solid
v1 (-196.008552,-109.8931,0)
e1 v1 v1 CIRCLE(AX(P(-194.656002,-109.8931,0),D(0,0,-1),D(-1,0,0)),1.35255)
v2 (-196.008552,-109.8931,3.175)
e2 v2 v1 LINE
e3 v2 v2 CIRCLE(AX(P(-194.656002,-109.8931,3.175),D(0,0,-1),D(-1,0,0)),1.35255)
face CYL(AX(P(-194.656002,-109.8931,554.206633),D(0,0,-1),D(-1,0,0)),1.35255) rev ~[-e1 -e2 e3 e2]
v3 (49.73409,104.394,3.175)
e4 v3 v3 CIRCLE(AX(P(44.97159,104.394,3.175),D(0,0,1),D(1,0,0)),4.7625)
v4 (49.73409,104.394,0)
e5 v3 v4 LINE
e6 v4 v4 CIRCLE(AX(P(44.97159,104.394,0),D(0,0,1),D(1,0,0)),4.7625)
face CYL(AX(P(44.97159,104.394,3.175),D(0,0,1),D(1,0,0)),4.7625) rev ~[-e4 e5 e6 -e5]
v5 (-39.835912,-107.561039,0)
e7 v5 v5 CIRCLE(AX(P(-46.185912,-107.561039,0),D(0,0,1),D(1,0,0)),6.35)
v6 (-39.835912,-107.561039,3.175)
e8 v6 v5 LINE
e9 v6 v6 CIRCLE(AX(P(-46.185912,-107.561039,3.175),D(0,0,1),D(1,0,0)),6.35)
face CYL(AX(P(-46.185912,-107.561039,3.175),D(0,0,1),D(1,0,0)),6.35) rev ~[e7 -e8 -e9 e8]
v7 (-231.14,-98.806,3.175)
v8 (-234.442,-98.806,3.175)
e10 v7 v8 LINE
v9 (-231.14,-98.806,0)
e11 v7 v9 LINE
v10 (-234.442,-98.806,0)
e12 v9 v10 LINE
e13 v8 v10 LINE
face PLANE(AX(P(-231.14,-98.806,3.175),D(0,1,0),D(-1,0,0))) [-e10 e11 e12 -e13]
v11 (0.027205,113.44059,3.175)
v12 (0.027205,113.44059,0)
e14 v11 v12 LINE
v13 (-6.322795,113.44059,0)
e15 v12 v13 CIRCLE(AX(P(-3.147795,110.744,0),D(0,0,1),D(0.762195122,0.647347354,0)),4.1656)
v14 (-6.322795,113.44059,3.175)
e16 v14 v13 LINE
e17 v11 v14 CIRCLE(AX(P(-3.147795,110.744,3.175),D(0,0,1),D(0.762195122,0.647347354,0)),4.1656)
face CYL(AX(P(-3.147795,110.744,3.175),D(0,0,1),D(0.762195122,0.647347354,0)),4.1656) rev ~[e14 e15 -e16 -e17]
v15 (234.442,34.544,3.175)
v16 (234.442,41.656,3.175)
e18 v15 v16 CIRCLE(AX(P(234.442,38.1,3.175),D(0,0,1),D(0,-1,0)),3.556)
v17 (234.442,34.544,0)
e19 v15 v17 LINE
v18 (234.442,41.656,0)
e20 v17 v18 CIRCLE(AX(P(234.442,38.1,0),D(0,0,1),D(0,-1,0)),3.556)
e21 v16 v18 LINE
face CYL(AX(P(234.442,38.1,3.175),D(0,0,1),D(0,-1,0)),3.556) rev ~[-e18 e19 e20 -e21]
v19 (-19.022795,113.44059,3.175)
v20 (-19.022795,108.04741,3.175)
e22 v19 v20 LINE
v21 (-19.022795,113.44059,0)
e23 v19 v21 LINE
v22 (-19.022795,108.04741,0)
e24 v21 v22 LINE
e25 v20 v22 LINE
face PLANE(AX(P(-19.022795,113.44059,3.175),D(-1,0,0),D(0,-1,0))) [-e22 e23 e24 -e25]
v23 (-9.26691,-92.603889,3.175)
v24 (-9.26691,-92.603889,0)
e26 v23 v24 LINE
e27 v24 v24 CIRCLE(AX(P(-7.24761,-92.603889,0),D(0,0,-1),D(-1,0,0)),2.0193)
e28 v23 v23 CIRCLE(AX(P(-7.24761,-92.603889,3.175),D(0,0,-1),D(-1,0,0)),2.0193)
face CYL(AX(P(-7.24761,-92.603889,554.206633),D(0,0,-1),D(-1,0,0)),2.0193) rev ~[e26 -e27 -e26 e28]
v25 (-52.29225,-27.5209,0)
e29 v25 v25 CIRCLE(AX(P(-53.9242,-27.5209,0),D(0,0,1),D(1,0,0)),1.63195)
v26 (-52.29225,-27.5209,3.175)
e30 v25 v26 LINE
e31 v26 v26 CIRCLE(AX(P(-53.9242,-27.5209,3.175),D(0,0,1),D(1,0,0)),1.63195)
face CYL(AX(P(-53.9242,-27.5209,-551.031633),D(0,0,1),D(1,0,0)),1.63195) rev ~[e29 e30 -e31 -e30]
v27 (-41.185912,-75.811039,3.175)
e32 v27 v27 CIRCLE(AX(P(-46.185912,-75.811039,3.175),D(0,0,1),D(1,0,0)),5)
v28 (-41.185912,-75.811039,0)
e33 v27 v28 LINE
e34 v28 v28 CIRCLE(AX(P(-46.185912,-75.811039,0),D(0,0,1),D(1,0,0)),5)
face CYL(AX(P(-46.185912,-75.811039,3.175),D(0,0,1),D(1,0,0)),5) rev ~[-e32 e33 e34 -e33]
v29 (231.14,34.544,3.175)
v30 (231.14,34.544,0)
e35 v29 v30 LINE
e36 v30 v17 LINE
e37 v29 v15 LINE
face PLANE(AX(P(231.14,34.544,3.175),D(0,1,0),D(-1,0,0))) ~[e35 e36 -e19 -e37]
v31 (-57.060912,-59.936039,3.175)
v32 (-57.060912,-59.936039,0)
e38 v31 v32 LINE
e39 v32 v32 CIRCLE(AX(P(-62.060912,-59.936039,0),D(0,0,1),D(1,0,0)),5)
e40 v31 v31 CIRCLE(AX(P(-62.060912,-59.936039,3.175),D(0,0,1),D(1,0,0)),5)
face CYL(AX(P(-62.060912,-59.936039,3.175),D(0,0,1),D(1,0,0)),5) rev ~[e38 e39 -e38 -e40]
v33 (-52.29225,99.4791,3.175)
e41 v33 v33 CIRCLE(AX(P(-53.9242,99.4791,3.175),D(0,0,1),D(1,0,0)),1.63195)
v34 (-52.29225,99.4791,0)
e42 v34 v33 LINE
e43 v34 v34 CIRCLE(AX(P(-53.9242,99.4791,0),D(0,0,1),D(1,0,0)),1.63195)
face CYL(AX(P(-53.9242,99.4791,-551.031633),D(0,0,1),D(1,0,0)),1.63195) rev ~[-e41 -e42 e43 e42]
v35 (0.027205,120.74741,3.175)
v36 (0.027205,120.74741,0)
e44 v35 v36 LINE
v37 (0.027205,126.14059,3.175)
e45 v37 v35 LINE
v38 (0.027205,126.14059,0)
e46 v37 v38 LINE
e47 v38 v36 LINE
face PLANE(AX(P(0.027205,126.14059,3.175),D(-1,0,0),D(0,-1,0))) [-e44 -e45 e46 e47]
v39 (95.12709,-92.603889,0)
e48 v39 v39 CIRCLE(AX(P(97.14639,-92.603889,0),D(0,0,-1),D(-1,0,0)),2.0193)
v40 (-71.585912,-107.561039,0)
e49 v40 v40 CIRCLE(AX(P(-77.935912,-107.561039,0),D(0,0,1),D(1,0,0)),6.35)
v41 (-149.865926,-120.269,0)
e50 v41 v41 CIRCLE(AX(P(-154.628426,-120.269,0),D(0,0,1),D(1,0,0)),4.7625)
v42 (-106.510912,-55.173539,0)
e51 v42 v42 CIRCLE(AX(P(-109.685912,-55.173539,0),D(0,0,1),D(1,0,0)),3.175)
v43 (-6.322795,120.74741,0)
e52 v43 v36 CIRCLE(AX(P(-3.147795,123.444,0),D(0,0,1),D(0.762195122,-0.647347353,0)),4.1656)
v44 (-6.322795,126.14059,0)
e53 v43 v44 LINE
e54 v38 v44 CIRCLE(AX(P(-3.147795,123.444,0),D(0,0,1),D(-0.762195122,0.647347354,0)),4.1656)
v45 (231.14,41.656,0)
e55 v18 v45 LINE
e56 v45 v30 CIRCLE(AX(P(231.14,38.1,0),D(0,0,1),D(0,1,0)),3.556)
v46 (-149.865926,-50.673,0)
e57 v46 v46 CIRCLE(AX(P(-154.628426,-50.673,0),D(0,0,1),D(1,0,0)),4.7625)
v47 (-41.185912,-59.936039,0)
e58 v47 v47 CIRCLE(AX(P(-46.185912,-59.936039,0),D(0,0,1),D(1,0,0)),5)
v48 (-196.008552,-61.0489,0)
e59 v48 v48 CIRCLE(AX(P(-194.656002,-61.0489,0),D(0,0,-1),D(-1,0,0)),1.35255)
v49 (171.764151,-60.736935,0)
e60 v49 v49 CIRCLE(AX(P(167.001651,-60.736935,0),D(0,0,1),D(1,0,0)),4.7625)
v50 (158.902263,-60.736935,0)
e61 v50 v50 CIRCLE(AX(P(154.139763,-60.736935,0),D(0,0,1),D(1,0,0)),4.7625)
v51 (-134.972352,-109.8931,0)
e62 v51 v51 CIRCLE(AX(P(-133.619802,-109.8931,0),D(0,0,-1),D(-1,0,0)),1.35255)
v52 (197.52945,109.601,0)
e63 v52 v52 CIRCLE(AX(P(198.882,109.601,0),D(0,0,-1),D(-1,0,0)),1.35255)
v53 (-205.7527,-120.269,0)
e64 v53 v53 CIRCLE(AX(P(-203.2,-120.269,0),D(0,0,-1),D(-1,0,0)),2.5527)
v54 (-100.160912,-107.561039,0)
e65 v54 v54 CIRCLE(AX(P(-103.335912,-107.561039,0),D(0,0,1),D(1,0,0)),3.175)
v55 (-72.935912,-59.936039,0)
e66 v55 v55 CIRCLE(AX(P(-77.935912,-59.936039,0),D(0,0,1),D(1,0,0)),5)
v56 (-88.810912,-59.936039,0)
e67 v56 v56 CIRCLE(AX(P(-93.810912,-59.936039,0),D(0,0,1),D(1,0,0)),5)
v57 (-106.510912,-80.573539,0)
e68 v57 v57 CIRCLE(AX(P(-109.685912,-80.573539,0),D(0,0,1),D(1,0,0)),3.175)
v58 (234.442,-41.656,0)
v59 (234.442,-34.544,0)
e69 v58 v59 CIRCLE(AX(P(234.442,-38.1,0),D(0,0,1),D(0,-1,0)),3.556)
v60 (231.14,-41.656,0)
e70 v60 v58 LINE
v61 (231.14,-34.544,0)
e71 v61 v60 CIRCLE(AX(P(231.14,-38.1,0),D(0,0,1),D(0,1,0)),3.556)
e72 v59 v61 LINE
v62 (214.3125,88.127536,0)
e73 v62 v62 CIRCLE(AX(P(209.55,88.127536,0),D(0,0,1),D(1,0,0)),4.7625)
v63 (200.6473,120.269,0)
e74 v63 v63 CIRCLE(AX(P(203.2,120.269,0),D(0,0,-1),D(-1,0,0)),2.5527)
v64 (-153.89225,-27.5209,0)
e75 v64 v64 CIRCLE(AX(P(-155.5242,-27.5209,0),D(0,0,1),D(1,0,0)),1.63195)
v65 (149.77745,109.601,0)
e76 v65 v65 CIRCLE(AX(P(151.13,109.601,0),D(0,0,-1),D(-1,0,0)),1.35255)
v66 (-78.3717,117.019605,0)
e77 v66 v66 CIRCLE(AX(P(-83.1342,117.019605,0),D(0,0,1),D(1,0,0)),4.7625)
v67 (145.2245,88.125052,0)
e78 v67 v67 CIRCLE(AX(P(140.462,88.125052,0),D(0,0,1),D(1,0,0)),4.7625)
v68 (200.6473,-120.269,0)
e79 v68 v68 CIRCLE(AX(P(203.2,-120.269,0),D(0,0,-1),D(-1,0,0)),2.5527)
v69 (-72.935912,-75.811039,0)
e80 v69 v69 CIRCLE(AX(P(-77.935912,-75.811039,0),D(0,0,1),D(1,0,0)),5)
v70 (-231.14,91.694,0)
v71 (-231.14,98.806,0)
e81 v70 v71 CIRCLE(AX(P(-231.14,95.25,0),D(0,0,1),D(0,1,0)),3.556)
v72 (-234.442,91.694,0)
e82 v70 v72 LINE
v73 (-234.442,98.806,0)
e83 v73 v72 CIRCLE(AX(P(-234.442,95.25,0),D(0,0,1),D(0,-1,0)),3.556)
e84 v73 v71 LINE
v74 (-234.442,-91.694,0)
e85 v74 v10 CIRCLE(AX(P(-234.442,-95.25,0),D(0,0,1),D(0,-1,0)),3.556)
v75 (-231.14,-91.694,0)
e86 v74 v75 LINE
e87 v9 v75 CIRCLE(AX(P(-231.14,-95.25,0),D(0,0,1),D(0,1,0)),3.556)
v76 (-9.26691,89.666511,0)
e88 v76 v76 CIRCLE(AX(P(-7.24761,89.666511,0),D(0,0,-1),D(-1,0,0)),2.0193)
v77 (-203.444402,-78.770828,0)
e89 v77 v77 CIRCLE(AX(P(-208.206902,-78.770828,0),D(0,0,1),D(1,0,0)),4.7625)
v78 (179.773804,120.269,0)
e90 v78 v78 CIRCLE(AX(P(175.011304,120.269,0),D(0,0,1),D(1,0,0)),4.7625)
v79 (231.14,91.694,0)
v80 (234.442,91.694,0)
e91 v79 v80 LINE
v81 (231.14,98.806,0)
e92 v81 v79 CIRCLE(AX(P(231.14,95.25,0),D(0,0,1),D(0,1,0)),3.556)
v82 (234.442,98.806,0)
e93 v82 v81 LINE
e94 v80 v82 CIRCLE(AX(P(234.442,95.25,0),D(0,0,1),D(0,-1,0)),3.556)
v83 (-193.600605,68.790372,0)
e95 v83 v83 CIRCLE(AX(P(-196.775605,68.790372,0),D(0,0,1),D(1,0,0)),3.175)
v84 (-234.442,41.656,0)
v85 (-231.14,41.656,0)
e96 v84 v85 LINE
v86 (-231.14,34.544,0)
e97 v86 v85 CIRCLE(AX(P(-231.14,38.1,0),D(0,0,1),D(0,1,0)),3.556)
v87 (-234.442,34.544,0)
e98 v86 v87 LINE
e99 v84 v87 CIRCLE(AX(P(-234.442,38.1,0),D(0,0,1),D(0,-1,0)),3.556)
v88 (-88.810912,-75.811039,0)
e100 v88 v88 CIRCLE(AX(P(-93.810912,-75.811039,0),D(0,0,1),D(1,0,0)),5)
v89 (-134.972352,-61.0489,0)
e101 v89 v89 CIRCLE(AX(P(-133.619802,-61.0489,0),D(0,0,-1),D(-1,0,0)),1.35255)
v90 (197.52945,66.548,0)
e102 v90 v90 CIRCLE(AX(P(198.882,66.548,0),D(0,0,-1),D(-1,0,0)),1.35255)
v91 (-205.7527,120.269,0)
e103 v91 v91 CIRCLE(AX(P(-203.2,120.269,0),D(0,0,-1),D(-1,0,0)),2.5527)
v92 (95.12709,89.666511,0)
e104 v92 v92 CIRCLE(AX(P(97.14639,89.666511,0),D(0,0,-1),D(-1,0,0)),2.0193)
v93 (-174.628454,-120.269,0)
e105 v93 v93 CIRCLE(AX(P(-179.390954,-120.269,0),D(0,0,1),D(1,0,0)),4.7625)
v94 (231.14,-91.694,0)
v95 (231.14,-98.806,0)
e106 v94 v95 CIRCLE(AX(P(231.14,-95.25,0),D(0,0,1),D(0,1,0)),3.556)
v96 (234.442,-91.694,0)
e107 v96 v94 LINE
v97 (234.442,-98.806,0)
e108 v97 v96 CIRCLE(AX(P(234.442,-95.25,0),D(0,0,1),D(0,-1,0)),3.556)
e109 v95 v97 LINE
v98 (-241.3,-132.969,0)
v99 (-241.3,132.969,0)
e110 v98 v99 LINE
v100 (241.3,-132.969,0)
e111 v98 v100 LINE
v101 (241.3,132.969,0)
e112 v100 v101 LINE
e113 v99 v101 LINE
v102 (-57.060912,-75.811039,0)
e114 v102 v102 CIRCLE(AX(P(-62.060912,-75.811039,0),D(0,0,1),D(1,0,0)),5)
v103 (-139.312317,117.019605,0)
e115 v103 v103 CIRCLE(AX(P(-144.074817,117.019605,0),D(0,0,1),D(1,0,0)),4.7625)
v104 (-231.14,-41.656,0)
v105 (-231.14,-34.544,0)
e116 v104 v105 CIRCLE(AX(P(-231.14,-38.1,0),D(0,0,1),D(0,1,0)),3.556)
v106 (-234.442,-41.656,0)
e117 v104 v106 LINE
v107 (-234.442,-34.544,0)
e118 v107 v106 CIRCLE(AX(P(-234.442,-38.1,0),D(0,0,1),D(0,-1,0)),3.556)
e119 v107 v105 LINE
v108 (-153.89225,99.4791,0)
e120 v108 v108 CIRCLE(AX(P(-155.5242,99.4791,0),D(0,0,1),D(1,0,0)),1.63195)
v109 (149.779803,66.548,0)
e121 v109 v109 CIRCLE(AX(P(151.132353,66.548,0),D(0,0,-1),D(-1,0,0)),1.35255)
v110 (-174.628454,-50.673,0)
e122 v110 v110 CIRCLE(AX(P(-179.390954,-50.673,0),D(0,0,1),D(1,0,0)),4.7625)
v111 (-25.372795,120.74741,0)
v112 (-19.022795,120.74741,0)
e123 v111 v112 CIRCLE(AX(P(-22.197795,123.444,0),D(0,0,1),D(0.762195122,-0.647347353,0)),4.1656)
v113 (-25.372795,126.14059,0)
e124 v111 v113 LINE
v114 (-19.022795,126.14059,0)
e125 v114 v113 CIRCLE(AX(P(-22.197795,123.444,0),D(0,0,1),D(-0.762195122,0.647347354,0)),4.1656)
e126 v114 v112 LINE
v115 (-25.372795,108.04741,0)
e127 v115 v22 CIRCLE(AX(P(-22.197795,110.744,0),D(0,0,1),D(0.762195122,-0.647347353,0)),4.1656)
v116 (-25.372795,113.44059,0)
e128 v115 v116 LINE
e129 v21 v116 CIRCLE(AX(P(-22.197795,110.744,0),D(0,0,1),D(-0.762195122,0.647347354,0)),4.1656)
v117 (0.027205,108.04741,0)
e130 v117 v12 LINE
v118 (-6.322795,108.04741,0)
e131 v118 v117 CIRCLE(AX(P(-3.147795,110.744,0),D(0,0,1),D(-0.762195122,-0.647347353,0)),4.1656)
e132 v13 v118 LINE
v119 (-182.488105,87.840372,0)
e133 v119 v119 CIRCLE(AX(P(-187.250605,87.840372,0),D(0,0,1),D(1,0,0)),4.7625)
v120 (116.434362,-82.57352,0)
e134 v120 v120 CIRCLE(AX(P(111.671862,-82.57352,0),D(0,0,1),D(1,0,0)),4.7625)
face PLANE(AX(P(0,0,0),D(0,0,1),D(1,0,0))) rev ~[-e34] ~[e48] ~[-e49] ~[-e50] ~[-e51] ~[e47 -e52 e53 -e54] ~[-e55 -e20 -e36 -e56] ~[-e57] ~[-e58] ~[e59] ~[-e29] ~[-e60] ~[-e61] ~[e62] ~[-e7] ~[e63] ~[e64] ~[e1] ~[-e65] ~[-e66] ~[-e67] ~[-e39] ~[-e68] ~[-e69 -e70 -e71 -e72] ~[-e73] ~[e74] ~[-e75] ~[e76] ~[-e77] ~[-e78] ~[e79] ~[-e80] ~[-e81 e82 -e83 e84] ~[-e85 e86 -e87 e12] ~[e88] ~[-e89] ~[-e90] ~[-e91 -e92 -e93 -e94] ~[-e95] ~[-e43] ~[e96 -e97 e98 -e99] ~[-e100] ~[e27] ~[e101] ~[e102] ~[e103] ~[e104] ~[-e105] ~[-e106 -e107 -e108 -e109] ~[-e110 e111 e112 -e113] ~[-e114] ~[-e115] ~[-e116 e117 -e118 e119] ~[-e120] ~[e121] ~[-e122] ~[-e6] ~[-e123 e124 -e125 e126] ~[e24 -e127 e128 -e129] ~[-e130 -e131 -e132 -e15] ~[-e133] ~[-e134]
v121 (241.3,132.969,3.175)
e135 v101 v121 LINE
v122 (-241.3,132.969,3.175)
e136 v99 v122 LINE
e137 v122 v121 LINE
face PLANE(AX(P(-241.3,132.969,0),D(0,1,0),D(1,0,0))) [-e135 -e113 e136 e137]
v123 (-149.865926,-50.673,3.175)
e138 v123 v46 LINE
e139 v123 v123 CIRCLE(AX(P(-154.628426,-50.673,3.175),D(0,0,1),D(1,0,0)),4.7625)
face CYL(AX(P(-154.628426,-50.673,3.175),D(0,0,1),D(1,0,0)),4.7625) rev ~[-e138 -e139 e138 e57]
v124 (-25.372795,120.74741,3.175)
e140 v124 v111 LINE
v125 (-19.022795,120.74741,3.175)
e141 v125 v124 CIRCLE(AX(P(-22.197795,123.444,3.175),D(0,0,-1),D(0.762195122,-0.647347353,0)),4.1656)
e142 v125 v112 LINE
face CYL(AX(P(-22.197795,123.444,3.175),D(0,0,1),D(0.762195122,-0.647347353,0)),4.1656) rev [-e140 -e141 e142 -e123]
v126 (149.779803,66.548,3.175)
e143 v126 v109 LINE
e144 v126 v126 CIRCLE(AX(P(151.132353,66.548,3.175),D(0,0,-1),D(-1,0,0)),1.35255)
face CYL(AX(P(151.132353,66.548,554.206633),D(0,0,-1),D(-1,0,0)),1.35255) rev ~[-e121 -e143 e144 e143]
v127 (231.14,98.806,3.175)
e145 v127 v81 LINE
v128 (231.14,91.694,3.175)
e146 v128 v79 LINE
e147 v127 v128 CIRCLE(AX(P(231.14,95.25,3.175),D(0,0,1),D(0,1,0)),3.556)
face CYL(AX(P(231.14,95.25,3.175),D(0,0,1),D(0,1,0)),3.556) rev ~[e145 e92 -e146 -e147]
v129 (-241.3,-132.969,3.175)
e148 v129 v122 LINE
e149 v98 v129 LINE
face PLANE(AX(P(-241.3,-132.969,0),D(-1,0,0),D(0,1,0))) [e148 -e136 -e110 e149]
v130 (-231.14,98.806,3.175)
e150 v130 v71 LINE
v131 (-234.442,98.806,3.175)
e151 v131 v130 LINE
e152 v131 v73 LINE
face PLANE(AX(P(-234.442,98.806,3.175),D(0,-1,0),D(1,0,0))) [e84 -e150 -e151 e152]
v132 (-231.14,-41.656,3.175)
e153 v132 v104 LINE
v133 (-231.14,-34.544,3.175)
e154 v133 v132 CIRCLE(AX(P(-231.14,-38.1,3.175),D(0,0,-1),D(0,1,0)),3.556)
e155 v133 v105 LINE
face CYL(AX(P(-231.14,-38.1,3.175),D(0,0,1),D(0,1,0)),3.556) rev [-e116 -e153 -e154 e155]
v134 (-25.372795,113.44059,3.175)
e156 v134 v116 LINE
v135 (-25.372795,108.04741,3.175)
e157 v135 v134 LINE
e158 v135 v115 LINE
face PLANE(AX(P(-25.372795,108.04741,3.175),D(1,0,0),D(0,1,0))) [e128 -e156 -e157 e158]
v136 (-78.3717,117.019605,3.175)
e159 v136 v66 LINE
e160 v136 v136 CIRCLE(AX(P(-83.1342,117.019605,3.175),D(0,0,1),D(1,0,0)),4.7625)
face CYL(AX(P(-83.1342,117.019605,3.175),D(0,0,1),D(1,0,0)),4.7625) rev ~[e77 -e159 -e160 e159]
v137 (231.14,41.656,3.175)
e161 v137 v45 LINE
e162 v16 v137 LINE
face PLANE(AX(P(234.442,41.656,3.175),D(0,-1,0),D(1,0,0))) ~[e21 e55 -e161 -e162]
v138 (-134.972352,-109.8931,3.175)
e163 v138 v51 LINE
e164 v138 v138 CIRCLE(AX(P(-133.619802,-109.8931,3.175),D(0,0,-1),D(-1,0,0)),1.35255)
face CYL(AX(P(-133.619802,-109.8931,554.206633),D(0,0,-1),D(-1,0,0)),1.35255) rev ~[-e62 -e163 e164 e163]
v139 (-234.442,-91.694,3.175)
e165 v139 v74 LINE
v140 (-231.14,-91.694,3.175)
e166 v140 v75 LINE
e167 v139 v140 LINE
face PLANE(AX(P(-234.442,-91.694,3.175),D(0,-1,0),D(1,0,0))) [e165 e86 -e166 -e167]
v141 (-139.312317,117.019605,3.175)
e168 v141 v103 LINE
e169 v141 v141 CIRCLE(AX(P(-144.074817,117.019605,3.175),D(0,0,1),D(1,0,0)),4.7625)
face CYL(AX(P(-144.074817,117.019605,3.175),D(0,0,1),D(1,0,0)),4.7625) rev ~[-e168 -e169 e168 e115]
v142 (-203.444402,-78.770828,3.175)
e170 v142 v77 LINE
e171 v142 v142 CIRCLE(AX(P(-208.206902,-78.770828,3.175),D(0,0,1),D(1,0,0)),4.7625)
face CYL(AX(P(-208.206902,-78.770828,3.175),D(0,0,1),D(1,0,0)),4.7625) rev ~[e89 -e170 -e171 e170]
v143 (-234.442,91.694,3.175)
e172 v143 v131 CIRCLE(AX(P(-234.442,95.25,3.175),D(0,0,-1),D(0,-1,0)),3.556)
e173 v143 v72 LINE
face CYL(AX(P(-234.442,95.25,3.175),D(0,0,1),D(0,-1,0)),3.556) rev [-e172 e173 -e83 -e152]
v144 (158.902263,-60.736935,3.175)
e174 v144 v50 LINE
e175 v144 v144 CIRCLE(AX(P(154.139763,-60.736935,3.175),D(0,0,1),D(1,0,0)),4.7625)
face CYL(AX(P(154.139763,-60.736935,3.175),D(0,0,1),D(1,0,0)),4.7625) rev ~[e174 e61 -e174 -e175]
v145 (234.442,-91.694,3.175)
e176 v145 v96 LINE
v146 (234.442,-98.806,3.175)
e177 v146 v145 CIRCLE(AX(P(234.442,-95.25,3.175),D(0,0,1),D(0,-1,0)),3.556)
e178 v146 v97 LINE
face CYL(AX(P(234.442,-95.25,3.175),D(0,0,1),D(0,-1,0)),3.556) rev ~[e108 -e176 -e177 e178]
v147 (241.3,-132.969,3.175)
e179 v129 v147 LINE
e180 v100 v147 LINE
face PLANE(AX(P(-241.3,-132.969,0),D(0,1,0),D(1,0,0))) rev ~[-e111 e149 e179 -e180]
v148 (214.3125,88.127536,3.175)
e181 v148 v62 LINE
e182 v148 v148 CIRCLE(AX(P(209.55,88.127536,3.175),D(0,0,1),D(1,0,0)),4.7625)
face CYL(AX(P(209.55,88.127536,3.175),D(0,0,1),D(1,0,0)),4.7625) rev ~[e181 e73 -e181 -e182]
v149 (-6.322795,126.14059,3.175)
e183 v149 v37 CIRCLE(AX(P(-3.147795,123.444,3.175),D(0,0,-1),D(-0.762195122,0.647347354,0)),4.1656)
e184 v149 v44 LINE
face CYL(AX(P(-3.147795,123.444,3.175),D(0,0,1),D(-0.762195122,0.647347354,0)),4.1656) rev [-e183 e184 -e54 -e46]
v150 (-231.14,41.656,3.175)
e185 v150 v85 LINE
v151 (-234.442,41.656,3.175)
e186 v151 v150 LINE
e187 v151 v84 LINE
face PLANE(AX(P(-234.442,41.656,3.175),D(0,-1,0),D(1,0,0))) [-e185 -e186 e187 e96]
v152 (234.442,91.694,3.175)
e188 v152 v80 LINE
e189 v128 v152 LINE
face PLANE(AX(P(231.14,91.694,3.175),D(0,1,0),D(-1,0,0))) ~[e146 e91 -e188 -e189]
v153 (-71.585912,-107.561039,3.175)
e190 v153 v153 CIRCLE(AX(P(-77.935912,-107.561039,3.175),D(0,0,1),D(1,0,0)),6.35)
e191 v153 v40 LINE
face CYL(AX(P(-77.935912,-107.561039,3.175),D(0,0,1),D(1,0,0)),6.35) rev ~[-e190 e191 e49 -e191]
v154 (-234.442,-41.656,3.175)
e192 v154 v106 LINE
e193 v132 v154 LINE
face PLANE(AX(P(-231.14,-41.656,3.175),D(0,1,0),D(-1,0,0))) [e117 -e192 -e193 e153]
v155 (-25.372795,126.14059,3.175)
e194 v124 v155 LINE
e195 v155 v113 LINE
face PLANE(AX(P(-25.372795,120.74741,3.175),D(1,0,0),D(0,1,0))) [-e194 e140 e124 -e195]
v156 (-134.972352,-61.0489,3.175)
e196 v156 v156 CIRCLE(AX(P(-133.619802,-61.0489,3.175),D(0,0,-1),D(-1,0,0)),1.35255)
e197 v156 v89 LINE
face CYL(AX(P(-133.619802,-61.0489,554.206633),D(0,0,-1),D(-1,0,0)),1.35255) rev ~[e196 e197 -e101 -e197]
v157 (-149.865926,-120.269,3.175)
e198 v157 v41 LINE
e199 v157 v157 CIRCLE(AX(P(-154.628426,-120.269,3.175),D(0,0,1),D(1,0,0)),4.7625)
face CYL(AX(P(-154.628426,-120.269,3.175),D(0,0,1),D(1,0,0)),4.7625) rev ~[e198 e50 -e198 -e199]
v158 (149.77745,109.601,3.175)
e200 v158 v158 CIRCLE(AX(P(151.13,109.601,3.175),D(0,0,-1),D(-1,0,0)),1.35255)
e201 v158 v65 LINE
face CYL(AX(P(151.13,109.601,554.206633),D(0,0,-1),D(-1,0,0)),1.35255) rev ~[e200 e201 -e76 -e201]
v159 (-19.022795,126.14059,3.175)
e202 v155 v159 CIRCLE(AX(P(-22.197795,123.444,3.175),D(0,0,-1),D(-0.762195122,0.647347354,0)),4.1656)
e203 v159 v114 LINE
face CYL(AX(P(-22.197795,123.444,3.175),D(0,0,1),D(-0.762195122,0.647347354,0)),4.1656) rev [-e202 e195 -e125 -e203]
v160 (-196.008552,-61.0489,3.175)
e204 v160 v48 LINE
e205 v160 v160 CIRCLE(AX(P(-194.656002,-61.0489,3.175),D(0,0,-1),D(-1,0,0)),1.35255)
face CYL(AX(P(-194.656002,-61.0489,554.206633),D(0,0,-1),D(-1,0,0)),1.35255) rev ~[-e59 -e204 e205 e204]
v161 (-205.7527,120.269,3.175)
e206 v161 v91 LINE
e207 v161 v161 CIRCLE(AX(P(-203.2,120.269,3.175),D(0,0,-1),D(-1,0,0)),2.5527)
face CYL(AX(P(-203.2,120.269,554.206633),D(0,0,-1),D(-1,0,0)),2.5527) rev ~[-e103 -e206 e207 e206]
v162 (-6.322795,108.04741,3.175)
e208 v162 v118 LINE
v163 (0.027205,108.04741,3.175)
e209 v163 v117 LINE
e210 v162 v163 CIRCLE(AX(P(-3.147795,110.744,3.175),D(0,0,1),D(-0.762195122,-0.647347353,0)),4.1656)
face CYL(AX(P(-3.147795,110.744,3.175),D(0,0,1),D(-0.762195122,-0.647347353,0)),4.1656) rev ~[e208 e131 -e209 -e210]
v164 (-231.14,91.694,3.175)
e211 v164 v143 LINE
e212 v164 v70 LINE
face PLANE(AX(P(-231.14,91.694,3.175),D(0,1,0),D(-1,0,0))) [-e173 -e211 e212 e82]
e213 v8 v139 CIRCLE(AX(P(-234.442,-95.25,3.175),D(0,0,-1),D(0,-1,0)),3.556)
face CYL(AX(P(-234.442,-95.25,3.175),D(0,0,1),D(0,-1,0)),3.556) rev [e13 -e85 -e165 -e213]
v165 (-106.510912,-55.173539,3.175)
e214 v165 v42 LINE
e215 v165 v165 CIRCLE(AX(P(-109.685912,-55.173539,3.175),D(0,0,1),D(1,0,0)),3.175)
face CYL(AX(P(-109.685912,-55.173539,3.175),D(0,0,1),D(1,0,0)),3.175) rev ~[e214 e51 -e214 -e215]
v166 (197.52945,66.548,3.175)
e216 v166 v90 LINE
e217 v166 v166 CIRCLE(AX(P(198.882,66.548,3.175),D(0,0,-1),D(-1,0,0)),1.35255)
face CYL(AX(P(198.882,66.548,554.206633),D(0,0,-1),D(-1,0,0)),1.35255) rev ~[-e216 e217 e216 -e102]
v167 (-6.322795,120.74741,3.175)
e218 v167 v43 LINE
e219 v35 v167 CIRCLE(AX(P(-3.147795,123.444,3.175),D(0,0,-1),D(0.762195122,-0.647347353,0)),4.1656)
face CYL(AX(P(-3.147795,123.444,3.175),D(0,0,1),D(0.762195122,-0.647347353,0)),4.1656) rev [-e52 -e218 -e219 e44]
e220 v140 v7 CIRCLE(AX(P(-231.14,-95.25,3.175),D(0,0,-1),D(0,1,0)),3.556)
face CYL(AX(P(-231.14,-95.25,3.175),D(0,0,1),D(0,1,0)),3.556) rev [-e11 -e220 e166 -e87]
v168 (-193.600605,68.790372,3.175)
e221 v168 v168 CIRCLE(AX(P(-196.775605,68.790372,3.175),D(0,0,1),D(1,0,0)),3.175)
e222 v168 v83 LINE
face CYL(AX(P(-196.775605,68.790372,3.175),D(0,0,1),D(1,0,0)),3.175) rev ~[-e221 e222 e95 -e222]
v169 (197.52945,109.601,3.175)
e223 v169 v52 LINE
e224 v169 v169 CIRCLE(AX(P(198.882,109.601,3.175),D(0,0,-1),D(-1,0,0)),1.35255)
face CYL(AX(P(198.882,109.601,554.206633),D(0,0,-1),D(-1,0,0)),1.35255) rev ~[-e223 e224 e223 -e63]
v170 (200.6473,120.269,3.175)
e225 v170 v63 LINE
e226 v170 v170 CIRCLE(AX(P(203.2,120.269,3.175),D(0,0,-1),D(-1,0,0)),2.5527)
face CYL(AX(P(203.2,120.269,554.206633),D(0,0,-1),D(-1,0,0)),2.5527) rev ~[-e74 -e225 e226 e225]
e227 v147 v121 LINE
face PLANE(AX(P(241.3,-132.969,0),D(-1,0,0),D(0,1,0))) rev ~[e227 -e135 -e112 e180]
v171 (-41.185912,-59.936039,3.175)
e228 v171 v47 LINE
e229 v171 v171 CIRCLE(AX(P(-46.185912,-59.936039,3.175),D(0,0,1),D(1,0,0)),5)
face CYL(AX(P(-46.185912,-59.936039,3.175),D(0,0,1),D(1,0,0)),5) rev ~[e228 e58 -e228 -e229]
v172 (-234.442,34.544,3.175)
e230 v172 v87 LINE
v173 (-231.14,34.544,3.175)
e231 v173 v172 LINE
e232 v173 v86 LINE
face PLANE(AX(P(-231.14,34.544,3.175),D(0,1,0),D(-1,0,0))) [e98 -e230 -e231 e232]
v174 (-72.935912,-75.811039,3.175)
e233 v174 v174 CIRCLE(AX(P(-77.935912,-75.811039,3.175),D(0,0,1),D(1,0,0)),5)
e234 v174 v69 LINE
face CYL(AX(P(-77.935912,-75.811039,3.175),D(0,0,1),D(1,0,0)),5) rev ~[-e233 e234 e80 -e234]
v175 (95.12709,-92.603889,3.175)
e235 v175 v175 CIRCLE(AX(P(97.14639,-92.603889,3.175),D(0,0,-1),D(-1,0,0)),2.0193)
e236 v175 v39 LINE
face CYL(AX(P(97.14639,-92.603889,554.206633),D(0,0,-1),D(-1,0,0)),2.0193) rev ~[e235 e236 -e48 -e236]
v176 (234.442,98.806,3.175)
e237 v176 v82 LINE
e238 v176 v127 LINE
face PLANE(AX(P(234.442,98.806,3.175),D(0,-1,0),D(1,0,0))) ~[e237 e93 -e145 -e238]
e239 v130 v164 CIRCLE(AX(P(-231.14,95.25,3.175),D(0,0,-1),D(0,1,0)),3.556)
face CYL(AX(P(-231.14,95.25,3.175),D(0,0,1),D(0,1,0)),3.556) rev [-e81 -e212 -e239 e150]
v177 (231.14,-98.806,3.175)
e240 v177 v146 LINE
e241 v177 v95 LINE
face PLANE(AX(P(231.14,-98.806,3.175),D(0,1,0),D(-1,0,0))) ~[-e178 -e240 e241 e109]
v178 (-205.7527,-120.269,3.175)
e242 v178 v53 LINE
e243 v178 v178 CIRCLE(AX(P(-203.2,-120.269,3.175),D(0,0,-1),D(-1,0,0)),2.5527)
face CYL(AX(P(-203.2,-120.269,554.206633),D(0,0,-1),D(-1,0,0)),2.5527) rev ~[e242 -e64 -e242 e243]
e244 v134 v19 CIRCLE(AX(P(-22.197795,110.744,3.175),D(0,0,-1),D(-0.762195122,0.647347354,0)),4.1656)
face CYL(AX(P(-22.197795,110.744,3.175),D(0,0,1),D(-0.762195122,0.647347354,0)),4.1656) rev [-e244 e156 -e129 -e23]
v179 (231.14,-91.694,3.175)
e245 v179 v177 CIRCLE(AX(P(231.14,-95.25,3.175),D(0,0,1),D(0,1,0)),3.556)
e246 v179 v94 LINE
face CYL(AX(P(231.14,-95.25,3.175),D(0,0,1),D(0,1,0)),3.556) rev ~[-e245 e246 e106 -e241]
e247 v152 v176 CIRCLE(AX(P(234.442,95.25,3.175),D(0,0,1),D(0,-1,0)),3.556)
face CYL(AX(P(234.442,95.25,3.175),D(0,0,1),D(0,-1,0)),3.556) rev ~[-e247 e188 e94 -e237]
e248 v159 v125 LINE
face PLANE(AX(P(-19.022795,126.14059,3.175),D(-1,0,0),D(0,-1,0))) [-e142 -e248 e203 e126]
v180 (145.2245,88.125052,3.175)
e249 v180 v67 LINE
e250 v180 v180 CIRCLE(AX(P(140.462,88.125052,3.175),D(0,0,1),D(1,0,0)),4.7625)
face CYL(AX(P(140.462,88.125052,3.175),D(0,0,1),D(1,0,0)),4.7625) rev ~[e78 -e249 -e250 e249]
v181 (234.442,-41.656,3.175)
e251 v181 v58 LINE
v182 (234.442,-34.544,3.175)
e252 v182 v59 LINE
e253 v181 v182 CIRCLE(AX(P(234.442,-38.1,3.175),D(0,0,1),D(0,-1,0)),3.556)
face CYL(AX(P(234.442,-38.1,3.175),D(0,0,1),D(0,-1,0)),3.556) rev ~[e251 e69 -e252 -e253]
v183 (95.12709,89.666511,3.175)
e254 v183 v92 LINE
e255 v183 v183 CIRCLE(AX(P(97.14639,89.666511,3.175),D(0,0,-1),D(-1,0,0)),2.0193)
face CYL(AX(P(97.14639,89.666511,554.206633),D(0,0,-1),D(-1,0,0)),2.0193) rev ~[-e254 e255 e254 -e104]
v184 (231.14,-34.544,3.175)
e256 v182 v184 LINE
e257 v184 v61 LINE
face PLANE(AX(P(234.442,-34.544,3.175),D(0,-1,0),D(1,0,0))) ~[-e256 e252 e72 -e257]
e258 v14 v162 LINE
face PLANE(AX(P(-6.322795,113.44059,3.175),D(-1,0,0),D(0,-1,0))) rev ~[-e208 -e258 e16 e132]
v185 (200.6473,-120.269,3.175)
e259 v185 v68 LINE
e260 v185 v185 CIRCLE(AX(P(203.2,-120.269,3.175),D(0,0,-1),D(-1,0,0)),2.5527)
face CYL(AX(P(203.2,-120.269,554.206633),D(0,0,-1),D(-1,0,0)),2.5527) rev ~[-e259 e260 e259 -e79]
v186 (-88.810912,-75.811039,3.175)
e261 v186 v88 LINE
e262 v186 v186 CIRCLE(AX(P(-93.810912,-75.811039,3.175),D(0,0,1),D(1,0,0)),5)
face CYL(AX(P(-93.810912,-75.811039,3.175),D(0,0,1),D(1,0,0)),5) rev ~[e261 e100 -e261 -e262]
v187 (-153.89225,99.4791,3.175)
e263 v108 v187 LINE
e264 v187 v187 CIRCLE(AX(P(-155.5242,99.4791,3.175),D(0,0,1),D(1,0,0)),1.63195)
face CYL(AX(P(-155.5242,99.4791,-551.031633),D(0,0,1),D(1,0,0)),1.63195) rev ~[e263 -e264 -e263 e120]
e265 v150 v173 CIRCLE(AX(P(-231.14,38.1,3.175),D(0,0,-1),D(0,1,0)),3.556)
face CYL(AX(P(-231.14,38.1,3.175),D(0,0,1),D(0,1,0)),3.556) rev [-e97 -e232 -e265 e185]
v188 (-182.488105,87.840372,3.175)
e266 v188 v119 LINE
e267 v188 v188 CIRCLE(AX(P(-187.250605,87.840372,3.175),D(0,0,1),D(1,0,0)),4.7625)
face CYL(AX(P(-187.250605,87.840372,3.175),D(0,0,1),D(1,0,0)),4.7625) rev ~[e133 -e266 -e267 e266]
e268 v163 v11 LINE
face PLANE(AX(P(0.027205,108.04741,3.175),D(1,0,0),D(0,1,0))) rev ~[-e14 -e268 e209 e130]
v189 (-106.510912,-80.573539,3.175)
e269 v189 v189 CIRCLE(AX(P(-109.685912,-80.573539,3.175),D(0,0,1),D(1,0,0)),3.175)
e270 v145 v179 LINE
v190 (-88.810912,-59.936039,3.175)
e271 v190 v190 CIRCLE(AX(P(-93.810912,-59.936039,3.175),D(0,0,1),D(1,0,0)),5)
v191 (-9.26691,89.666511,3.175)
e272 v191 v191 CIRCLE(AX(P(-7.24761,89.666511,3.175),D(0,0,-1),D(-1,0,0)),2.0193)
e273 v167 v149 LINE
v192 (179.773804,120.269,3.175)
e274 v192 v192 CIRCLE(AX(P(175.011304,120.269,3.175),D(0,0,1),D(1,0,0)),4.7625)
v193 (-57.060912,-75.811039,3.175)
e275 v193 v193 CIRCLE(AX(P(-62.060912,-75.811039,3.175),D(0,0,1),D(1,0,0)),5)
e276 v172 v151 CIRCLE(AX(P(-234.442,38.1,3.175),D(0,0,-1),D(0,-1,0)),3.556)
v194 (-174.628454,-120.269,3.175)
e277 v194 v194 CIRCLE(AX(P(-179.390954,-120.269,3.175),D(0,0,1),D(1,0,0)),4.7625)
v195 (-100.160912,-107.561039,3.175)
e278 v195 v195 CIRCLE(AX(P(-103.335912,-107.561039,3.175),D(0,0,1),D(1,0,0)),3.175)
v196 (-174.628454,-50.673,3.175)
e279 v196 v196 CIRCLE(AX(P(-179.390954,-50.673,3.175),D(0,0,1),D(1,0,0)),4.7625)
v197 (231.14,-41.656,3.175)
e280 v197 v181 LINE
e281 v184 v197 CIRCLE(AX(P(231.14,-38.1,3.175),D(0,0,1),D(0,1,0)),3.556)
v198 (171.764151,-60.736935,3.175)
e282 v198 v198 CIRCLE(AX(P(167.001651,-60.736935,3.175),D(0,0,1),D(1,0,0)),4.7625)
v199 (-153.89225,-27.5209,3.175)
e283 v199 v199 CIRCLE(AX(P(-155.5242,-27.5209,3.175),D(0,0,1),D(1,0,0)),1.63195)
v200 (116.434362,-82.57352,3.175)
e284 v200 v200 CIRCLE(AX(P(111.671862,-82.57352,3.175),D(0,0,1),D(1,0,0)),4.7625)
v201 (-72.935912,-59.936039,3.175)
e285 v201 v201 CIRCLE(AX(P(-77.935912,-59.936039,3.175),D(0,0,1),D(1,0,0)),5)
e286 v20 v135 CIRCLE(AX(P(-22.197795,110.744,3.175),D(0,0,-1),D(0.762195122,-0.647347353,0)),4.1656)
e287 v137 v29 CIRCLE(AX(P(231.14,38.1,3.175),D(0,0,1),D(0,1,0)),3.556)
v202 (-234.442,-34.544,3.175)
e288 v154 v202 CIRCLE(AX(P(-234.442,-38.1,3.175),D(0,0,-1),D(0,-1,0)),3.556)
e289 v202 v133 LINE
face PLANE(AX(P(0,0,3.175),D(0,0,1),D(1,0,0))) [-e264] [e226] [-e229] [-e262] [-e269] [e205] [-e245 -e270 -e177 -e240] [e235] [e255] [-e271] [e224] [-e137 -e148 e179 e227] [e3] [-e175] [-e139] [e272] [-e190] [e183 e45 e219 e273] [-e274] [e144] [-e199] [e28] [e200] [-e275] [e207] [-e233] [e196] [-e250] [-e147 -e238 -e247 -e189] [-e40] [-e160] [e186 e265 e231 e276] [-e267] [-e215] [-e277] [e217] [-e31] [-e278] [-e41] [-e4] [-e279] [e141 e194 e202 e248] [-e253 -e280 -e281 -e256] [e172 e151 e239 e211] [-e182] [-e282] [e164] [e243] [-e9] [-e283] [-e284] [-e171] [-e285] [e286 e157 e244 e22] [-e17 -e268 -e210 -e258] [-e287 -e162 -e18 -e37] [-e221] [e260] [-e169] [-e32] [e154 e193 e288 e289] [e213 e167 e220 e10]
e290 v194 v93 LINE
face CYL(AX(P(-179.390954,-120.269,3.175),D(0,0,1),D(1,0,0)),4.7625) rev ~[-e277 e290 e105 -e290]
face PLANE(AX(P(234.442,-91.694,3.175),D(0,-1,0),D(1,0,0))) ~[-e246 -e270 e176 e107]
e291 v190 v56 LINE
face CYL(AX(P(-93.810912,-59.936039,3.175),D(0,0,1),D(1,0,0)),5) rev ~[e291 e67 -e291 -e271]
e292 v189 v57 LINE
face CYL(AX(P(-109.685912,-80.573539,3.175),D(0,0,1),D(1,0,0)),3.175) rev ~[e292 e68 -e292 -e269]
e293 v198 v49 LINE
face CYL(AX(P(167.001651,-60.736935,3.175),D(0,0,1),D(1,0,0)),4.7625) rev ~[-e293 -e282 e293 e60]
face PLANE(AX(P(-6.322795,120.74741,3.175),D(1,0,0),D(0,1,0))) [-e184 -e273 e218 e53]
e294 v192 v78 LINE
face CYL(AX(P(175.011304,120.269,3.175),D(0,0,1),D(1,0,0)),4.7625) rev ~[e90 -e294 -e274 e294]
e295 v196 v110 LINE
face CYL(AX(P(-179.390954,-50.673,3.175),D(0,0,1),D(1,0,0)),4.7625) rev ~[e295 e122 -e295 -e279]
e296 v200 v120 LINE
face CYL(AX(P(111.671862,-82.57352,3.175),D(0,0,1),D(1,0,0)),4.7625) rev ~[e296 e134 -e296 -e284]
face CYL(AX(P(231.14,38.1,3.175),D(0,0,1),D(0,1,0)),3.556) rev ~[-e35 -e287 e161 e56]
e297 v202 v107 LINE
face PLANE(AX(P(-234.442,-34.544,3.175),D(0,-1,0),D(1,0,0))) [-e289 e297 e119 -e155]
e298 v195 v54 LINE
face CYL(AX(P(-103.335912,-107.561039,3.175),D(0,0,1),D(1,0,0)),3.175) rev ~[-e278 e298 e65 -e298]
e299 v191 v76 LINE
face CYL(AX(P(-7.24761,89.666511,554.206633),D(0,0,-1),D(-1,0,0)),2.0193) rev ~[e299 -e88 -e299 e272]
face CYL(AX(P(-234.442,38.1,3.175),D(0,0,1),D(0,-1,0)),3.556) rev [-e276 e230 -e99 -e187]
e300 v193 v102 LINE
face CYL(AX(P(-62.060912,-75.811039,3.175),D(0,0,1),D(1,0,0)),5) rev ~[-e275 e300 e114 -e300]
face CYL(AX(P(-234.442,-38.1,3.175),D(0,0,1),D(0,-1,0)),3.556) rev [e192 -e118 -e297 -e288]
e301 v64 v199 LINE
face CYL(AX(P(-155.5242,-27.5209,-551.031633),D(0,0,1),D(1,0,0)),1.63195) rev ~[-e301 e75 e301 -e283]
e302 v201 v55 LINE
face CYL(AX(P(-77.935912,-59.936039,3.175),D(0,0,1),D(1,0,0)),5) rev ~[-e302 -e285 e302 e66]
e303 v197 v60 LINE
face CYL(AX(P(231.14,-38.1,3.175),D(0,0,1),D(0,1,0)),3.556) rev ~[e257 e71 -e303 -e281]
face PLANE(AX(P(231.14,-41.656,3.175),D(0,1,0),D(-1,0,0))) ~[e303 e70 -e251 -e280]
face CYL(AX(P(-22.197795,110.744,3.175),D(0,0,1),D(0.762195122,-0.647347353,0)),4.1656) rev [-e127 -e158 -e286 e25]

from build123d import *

# Parameters (mm, degrees)
SKETCH1_W              = 482.6
SKETCH1_H              = 265.938
BOSS_EXTRUDE1_DEPTH    = 3.175
CUT_EXTRUDE1_DEPTH     = 4.175
CUT_EXTRUDE2_DEPTH     = 4.175
SKETCH4_R              = 4.7625
CUT_EXTRUDE3_DEPTH     = 4.175
SKETCH5_R              = 4.7625
CUT_EXTRUDE4_DEPTH     = 4.175
F_4_CLEARANCE_HOLE1_D  = 3.2639
SKETCH8_R              = 5
SKETCH8_R_2            = 3.175
SKETCH8_R_3            = 6.35
CUT_EXTRUDE5_DEPTH     = 4.175
SKETCH9_R              = 4.7625
CUT_EXTRUDE6_DEPTH     = 4.175
SKETCH10_R             = 3.175
SKETCH10_R_2           = 4.7625
CUT_EXTRUDE7_DEPTH     = 4.175
F_6_32_TAPPED_HOLE_D   = 2.7051
F_10_32_TAPPED_HOLE1_D = 4.0386
SKETCH15_R             = 4.7625
CUT_EXTRUDE8_DEPTH     = 4.175
SKETCH16_R             = 4.7625
CUT_EXTRUDE9_DEPTH     = 4.175
F_10_CLEARANCE_HOLE1_D = 5.1054


with BuildPart() as part:
    # Sketch1 → Boss-Extrude1 (new body)
    with BuildSketch(Plane.XY):
        Rectangle(SKETCH1_W, SKETCH1_H)
    extrude(amount=BOSS_EXTRUDE1_DEPTH)

    # Sketch2 → Cut-Extrude1 (cut, through all)
    with BuildSketch(Plane.XY.offset(3.175)):
        with BuildLine():
            Line((-234.442, 98.806), (-231.14, 98.806))
            ThreePointArc((-231.14, 98.806), (-227.584, 95.25), (-231.14, 91.694))
            Line((-231.14, 91.694), (-234.442, 91.694))
            ThreePointArc((-234.442, 91.694), (-237.998, 95.25), (-234.442, 98.806))
        make_face()
        with BuildLine():
            Line((-234.442, 41.656), (-231.14, 41.656))
            ThreePointArc((-231.14, 41.656), (-227.584, 38.1), (-231.14, 34.544))
            Line((-231.14, 34.544), (-234.442, 34.544))
            ThreePointArc((-234.442, 34.544), (-237.998, 38.1), (-234.442, 41.656))
        make_face()
        with BuildLine():
            Line((-234.442, -34.544), (-231.14, -34.544))
            ThreePointArc((-231.14, -34.544), (-227.584, -38.1), (-231.14, -41.656))
            Line((-231.14, -41.656), (-234.442, -41.656))
            ThreePointArc((-234.442, -41.656), (-237.998, -38.1), (-234.442, -34.544))
        make_face()
        with BuildLine():
            Line((-234.442, -91.694), (-231.14, -91.694))
            ThreePointArc((-231.14, -91.694), (-227.584, -95.25), (-231.14, -98.806))
            Line((-231.14, -98.806), (-234.442, -98.806))
            ThreePointArc((-234.442, -98.806), (-237.998, -95.25), (-234.442, -91.694))
        make_face()
    cut_extrude1 = extrude(amount=-CUT_EXTRUDE1_DEPTH, mode=Mode.SUBTRACT)

    # Mirror1: Cut-Extrude1 across plane
    add(cut_extrude1.mirror(Plane(origin=(0, 0, 0), x_dir=(0, 0, 1), z_dir=(1, 0, 0))), mode=Mode.SUBTRACT)

    # Sketch3 → Cut-Extrude2 (cut, through all)
    with BuildSketch(Plane(origin=(-181.02162033, -243.631772018, 3.175), x_dir=(1, 0, 0), z_dir=(0, 0, 1))):
        with BuildLine():
            Line((181.048825452, 369.772362154), (181.048825452, 364.379181883))
            ThreePointArc((181.048825452, 364.379181883), (177.873825452, 362.910172018), (174.698825452, 364.379181883))
            Line((174.698825452, 364.379181883), (174.698825452, 369.772362154))
            ThreePointArc((174.698825452, 369.772362154), (177.873825452, 371.241372018), (181.048825452, 369.772362154))
        make_face()
        with BuildLine():
            Line((161.998825452, 369.772362154), (161.998825452, 364.379181883))
            ThreePointArc((161.998825452, 364.379181883), (158.823825452, 362.910172018), (155.648825452, 364.379181883))
            Line((155.648825452, 364.379181883), (155.648825452, 369.772362154))
            ThreePointArc((155.648825452, 369.772362154), (158.823825452, 371.241372018), (161.998825452, 369.772362154))
        make_face()
        with BuildLine():
            Line((161.998825452, 357.072362154), (161.998825452, 351.679181883))
            ThreePointArc((161.998825452, 351.679181883), (158.823825452, 350.210172018), (155.648825452, 351.679181883))
            Line((155.648825452, 351.679181883), (155.648825452, 357.072362154))
            ThreePointArc((155.648825452, 357.072362154), (158.823825452, 358.541372018), (161.998825452, 357.072362154))
        make_face()
        with BuildLine():
            Line((174.698825452, 357.072362154), (174.698825452, 351.679181883))
            ThreePointArc((174.698825452, 351.679181883), (177.873825452, 350.210172018), (181.048825452, 351.679181883))
            Line((181.048825452, 351.679181883), (181.048825452, 357.072362154))
            ThreePointArc((181.048825452, 357.072362154), (177.873825452, 358.541372018), (174.698825452, 357.072362154))
        make_face()
    extrude(amount=-CUT_EXTRUDE2_DEPTH, mode=Mode.SUBTRACT)

    # Sketch4 → Cut-Extrude3 (cut, through all)
    with BuildSketch(Plane(origin=(-181.02162033, -243.631772018, 3.175), x_dir=(1, 0, 0), z_dir=(0, 0, 1))):
        with Locations((97.88742033, 360.651377141)):
            Circle(SKETCH4_R)
        with Locations((36.946803704, 360.651377141)):
            Circle(SKETCH4_R)
    extrude(amount=-CUT_EXTRUDE3_DEPTH, mode=Mode.SUBTRACT)

    # Sketch5 → Cut-Extrude4 (cut, through all)
    with BuildSketch(Plane(origin=(-181.02162033, -243.631772018, 3.175), x_dir=(1, 0, 0), z_dir=(0, 0, 1))):
        with Locations((225.993210145, 348.025772018)):
            Circle(SKETCH5_R)
        with Locations((292.693482391, 161.058252354)):
            Circle(SKETCH5_R)
    extrude(amount=-CUT_EXTRUDE4_DEPTH, mode=Mode.SUBTRACT)

    # #4 Clearance Hole1 (through all)
    with Locations(Plane(origin=(-181.02162033, -243.631772018, 0), x_dir=(-1, 0, 0), z_dir=(0, 0, -1))):
        with Locations((-127.09742033, 343.110872018), (-25.49742033, 343.110872018), (-25.49742033, 216.110872018), (-127.09742033, 216.110872018)):
            Hole(F_4_CLEARANCE_HOLE1_D / 2)

    # Sketch8 → Cut-Extrude5 (cut, through all)
    with BuildSketch(Plane(origin=(-181.02162033, -243.631772018, 3.175), x_dir=(1, 0, 0), z_dir=(0, 0, 1))):
        with Locations((87.210707903, 183.695733345)):
            Circle(SKETCH8_R)
        with Locations((103.085707903, 183.695733345)):
            Circle(SKETCH8_R)
        with Locations((118.960707903, 183.695733345)):
            Circle(SKETCH8_R)
        with Locations((134.835707903, 183.695733345)):
            Circle(SKETCH8_R)
        with Locations((134.835707903, 167.820733345)):
            Circle(SKETCH8_R)
        with Locations((118.960707903, 167.820733345)):
            Circle(SKETCH8_R)
        with Locations((103.085707903, 167.820733345)):
            Circle(SKETCH8_R)
        with Locations((87.210707903, 167.820733345)):
            Circle(SKETCH8_R)
        with Locations((71.335707903, 188.458233345)):
            Circle(SKETCH8_R_2)
        with Locations((71.335707903, 163.058233345)):
            Circle(SKETCH8_R_2)
        with Locations((103.085707903, 136.070733345)):
            Circle(SKETCH8_R_3)
        with Locations((134.835707903, 136.070733345)):
            Circle(SKETCH8_R_3)
        with Locations((77.685707903, 136.070733345)):
            Circle(SKETCH8_R_2)
    extrude(amount=-CUT_EXTRUDE5_DEPTH, mode=Mode.SUBTRACT)

    # Sketch9 → Cut-Extrude6 (cut, through all)
    with BuildSketch(Plane(origin=(-181.02162033, -243.631772018, 3.175), x_dir=(1, 0, 0), z_dir=(0, 0, 1))):
        with Locations((26.393194264, 192.958772018)):
            Circle(SKETCH9_R)
        with Locations((1.630666307, 192.958772018)):
            Circle(SKETCH9_R)
        with Locations((1.630666307, 123.362772018)):
            Circle(SKETCH9_R)
        with Locations((26.393194264, 123.362772018)):
            Circle(SKETCH9_R)
        with Locations((-27.185282018, 164.860944472)):
            Circle(SKETCH9_R)
    extrude(amount=-CUT_EXTRUDE6_DEPTH, mode=Mode.SUBTRACT)

    # Sketch10 → Cut-Extrude7 (cut, through all)
    with BuildSketch(Plane(origin=(-181.02162033, -243.631772018, 3.175), x_dir=(1, 0, 0), z_dir=(0, 0, 1))):
        with Locations((-15.753984793, 312.422144018)):
            Circle(SKETCH10_R)
        with Locations((-6.228984793, 331.472144018)):
            Circle(SKETCH10_R_2)
    extrude(amount=-CUT_EXTRUDE7_DEPTH, mode=Mode.SUBTRACT)

    # #6-32 Tapped Hole (through all)
    with Locations(Plane(origin=(-181.02162033, -243.631772018, 3.175), x_dir=(1, 0, 0), z_dir=(0, 0, 1))):
        with Locations((-13.634382018, 182.582872018), (47.401817982, 182.582872018), (47.401817982, 133.738672018), (-13.634382018, 133.738672018), (332.15162033, 353.232772018), (379.90362033, 353.232772018), (379.90362033, 310.179772018), (332.153973797, 310.179772018)):
            Hole(F_6_32_TAPPED_HOLE_D / 2)

    # #10-32 Tapped Hole1 (through all)
    with Locations(Plane(origin=(-181.02162033, -243.631772018, 3.175), x_dir=(1, 0, 0), z_dir=(0, 0, 1))):
        with Locations((278.168010145, 333.298282981), (173.774010145, 333.298282981), (173.774010145, 151.027882981), (278.168010145, 151.027882981)):
            Hole(F_10_32_TAPPED_HOLE1_D / 2)

    # Sketch15 → Cut-Extrude8 (cut, through all)
    with BuildSketch(Plane(origin=(-181.02162033, -243.631772018, 3.175), x_dir=(1, 0, 0), z_dir=(0, 0, 1))):
        with Locations((321.48362033, 331.756823693)):
            Circle(SKETCH15_R)
        with Locations((356.032924126, 363.900772018)):
            Circle(SKETCH15_R)
        with Locations((390.57162033, 331.759308089)):
            Circle(SKETCH15_R)
    extrude(amount=-CUT_EXTRUDE8_DEPTH, mode=Mode.SUBTRACT)

    # Sketch16 → Cut-Extrude9 (cut, through all)
    with BuildSketch(Plane(origin=(-181.02162033, -243.631772018, 3.175), x_dir=(1, 0, 0), z_dir=(0, 0, 1))):
        with Locations((335.161382997, 182.894837455)):
            Circle(SKETCH16_R)
        with Locations((348.023271542, 182.894837455)):
            Circle(SKETCH16_R)
    extrude(amount=-CUT_EXTRUDE9_DEPTH, mode=Mode.SUBTRACT)

    # #10 Clearance Hole1 (through all)
    with Locations(Plane(origin=(-181.02162033, -243.631772018, 3.175), x_dir=(1, 0, 0), z_dir=(0, 0, 1))):
        with Locations((-22.17837967, 363.900772018), (384.22162033, 363.900772018), (384.22162033, 123.362772018), (-22.17837967, 123.362772018)):
            Hole(F_10_CLEARANCE_HOLE1_D / 2)


solid = part.part
